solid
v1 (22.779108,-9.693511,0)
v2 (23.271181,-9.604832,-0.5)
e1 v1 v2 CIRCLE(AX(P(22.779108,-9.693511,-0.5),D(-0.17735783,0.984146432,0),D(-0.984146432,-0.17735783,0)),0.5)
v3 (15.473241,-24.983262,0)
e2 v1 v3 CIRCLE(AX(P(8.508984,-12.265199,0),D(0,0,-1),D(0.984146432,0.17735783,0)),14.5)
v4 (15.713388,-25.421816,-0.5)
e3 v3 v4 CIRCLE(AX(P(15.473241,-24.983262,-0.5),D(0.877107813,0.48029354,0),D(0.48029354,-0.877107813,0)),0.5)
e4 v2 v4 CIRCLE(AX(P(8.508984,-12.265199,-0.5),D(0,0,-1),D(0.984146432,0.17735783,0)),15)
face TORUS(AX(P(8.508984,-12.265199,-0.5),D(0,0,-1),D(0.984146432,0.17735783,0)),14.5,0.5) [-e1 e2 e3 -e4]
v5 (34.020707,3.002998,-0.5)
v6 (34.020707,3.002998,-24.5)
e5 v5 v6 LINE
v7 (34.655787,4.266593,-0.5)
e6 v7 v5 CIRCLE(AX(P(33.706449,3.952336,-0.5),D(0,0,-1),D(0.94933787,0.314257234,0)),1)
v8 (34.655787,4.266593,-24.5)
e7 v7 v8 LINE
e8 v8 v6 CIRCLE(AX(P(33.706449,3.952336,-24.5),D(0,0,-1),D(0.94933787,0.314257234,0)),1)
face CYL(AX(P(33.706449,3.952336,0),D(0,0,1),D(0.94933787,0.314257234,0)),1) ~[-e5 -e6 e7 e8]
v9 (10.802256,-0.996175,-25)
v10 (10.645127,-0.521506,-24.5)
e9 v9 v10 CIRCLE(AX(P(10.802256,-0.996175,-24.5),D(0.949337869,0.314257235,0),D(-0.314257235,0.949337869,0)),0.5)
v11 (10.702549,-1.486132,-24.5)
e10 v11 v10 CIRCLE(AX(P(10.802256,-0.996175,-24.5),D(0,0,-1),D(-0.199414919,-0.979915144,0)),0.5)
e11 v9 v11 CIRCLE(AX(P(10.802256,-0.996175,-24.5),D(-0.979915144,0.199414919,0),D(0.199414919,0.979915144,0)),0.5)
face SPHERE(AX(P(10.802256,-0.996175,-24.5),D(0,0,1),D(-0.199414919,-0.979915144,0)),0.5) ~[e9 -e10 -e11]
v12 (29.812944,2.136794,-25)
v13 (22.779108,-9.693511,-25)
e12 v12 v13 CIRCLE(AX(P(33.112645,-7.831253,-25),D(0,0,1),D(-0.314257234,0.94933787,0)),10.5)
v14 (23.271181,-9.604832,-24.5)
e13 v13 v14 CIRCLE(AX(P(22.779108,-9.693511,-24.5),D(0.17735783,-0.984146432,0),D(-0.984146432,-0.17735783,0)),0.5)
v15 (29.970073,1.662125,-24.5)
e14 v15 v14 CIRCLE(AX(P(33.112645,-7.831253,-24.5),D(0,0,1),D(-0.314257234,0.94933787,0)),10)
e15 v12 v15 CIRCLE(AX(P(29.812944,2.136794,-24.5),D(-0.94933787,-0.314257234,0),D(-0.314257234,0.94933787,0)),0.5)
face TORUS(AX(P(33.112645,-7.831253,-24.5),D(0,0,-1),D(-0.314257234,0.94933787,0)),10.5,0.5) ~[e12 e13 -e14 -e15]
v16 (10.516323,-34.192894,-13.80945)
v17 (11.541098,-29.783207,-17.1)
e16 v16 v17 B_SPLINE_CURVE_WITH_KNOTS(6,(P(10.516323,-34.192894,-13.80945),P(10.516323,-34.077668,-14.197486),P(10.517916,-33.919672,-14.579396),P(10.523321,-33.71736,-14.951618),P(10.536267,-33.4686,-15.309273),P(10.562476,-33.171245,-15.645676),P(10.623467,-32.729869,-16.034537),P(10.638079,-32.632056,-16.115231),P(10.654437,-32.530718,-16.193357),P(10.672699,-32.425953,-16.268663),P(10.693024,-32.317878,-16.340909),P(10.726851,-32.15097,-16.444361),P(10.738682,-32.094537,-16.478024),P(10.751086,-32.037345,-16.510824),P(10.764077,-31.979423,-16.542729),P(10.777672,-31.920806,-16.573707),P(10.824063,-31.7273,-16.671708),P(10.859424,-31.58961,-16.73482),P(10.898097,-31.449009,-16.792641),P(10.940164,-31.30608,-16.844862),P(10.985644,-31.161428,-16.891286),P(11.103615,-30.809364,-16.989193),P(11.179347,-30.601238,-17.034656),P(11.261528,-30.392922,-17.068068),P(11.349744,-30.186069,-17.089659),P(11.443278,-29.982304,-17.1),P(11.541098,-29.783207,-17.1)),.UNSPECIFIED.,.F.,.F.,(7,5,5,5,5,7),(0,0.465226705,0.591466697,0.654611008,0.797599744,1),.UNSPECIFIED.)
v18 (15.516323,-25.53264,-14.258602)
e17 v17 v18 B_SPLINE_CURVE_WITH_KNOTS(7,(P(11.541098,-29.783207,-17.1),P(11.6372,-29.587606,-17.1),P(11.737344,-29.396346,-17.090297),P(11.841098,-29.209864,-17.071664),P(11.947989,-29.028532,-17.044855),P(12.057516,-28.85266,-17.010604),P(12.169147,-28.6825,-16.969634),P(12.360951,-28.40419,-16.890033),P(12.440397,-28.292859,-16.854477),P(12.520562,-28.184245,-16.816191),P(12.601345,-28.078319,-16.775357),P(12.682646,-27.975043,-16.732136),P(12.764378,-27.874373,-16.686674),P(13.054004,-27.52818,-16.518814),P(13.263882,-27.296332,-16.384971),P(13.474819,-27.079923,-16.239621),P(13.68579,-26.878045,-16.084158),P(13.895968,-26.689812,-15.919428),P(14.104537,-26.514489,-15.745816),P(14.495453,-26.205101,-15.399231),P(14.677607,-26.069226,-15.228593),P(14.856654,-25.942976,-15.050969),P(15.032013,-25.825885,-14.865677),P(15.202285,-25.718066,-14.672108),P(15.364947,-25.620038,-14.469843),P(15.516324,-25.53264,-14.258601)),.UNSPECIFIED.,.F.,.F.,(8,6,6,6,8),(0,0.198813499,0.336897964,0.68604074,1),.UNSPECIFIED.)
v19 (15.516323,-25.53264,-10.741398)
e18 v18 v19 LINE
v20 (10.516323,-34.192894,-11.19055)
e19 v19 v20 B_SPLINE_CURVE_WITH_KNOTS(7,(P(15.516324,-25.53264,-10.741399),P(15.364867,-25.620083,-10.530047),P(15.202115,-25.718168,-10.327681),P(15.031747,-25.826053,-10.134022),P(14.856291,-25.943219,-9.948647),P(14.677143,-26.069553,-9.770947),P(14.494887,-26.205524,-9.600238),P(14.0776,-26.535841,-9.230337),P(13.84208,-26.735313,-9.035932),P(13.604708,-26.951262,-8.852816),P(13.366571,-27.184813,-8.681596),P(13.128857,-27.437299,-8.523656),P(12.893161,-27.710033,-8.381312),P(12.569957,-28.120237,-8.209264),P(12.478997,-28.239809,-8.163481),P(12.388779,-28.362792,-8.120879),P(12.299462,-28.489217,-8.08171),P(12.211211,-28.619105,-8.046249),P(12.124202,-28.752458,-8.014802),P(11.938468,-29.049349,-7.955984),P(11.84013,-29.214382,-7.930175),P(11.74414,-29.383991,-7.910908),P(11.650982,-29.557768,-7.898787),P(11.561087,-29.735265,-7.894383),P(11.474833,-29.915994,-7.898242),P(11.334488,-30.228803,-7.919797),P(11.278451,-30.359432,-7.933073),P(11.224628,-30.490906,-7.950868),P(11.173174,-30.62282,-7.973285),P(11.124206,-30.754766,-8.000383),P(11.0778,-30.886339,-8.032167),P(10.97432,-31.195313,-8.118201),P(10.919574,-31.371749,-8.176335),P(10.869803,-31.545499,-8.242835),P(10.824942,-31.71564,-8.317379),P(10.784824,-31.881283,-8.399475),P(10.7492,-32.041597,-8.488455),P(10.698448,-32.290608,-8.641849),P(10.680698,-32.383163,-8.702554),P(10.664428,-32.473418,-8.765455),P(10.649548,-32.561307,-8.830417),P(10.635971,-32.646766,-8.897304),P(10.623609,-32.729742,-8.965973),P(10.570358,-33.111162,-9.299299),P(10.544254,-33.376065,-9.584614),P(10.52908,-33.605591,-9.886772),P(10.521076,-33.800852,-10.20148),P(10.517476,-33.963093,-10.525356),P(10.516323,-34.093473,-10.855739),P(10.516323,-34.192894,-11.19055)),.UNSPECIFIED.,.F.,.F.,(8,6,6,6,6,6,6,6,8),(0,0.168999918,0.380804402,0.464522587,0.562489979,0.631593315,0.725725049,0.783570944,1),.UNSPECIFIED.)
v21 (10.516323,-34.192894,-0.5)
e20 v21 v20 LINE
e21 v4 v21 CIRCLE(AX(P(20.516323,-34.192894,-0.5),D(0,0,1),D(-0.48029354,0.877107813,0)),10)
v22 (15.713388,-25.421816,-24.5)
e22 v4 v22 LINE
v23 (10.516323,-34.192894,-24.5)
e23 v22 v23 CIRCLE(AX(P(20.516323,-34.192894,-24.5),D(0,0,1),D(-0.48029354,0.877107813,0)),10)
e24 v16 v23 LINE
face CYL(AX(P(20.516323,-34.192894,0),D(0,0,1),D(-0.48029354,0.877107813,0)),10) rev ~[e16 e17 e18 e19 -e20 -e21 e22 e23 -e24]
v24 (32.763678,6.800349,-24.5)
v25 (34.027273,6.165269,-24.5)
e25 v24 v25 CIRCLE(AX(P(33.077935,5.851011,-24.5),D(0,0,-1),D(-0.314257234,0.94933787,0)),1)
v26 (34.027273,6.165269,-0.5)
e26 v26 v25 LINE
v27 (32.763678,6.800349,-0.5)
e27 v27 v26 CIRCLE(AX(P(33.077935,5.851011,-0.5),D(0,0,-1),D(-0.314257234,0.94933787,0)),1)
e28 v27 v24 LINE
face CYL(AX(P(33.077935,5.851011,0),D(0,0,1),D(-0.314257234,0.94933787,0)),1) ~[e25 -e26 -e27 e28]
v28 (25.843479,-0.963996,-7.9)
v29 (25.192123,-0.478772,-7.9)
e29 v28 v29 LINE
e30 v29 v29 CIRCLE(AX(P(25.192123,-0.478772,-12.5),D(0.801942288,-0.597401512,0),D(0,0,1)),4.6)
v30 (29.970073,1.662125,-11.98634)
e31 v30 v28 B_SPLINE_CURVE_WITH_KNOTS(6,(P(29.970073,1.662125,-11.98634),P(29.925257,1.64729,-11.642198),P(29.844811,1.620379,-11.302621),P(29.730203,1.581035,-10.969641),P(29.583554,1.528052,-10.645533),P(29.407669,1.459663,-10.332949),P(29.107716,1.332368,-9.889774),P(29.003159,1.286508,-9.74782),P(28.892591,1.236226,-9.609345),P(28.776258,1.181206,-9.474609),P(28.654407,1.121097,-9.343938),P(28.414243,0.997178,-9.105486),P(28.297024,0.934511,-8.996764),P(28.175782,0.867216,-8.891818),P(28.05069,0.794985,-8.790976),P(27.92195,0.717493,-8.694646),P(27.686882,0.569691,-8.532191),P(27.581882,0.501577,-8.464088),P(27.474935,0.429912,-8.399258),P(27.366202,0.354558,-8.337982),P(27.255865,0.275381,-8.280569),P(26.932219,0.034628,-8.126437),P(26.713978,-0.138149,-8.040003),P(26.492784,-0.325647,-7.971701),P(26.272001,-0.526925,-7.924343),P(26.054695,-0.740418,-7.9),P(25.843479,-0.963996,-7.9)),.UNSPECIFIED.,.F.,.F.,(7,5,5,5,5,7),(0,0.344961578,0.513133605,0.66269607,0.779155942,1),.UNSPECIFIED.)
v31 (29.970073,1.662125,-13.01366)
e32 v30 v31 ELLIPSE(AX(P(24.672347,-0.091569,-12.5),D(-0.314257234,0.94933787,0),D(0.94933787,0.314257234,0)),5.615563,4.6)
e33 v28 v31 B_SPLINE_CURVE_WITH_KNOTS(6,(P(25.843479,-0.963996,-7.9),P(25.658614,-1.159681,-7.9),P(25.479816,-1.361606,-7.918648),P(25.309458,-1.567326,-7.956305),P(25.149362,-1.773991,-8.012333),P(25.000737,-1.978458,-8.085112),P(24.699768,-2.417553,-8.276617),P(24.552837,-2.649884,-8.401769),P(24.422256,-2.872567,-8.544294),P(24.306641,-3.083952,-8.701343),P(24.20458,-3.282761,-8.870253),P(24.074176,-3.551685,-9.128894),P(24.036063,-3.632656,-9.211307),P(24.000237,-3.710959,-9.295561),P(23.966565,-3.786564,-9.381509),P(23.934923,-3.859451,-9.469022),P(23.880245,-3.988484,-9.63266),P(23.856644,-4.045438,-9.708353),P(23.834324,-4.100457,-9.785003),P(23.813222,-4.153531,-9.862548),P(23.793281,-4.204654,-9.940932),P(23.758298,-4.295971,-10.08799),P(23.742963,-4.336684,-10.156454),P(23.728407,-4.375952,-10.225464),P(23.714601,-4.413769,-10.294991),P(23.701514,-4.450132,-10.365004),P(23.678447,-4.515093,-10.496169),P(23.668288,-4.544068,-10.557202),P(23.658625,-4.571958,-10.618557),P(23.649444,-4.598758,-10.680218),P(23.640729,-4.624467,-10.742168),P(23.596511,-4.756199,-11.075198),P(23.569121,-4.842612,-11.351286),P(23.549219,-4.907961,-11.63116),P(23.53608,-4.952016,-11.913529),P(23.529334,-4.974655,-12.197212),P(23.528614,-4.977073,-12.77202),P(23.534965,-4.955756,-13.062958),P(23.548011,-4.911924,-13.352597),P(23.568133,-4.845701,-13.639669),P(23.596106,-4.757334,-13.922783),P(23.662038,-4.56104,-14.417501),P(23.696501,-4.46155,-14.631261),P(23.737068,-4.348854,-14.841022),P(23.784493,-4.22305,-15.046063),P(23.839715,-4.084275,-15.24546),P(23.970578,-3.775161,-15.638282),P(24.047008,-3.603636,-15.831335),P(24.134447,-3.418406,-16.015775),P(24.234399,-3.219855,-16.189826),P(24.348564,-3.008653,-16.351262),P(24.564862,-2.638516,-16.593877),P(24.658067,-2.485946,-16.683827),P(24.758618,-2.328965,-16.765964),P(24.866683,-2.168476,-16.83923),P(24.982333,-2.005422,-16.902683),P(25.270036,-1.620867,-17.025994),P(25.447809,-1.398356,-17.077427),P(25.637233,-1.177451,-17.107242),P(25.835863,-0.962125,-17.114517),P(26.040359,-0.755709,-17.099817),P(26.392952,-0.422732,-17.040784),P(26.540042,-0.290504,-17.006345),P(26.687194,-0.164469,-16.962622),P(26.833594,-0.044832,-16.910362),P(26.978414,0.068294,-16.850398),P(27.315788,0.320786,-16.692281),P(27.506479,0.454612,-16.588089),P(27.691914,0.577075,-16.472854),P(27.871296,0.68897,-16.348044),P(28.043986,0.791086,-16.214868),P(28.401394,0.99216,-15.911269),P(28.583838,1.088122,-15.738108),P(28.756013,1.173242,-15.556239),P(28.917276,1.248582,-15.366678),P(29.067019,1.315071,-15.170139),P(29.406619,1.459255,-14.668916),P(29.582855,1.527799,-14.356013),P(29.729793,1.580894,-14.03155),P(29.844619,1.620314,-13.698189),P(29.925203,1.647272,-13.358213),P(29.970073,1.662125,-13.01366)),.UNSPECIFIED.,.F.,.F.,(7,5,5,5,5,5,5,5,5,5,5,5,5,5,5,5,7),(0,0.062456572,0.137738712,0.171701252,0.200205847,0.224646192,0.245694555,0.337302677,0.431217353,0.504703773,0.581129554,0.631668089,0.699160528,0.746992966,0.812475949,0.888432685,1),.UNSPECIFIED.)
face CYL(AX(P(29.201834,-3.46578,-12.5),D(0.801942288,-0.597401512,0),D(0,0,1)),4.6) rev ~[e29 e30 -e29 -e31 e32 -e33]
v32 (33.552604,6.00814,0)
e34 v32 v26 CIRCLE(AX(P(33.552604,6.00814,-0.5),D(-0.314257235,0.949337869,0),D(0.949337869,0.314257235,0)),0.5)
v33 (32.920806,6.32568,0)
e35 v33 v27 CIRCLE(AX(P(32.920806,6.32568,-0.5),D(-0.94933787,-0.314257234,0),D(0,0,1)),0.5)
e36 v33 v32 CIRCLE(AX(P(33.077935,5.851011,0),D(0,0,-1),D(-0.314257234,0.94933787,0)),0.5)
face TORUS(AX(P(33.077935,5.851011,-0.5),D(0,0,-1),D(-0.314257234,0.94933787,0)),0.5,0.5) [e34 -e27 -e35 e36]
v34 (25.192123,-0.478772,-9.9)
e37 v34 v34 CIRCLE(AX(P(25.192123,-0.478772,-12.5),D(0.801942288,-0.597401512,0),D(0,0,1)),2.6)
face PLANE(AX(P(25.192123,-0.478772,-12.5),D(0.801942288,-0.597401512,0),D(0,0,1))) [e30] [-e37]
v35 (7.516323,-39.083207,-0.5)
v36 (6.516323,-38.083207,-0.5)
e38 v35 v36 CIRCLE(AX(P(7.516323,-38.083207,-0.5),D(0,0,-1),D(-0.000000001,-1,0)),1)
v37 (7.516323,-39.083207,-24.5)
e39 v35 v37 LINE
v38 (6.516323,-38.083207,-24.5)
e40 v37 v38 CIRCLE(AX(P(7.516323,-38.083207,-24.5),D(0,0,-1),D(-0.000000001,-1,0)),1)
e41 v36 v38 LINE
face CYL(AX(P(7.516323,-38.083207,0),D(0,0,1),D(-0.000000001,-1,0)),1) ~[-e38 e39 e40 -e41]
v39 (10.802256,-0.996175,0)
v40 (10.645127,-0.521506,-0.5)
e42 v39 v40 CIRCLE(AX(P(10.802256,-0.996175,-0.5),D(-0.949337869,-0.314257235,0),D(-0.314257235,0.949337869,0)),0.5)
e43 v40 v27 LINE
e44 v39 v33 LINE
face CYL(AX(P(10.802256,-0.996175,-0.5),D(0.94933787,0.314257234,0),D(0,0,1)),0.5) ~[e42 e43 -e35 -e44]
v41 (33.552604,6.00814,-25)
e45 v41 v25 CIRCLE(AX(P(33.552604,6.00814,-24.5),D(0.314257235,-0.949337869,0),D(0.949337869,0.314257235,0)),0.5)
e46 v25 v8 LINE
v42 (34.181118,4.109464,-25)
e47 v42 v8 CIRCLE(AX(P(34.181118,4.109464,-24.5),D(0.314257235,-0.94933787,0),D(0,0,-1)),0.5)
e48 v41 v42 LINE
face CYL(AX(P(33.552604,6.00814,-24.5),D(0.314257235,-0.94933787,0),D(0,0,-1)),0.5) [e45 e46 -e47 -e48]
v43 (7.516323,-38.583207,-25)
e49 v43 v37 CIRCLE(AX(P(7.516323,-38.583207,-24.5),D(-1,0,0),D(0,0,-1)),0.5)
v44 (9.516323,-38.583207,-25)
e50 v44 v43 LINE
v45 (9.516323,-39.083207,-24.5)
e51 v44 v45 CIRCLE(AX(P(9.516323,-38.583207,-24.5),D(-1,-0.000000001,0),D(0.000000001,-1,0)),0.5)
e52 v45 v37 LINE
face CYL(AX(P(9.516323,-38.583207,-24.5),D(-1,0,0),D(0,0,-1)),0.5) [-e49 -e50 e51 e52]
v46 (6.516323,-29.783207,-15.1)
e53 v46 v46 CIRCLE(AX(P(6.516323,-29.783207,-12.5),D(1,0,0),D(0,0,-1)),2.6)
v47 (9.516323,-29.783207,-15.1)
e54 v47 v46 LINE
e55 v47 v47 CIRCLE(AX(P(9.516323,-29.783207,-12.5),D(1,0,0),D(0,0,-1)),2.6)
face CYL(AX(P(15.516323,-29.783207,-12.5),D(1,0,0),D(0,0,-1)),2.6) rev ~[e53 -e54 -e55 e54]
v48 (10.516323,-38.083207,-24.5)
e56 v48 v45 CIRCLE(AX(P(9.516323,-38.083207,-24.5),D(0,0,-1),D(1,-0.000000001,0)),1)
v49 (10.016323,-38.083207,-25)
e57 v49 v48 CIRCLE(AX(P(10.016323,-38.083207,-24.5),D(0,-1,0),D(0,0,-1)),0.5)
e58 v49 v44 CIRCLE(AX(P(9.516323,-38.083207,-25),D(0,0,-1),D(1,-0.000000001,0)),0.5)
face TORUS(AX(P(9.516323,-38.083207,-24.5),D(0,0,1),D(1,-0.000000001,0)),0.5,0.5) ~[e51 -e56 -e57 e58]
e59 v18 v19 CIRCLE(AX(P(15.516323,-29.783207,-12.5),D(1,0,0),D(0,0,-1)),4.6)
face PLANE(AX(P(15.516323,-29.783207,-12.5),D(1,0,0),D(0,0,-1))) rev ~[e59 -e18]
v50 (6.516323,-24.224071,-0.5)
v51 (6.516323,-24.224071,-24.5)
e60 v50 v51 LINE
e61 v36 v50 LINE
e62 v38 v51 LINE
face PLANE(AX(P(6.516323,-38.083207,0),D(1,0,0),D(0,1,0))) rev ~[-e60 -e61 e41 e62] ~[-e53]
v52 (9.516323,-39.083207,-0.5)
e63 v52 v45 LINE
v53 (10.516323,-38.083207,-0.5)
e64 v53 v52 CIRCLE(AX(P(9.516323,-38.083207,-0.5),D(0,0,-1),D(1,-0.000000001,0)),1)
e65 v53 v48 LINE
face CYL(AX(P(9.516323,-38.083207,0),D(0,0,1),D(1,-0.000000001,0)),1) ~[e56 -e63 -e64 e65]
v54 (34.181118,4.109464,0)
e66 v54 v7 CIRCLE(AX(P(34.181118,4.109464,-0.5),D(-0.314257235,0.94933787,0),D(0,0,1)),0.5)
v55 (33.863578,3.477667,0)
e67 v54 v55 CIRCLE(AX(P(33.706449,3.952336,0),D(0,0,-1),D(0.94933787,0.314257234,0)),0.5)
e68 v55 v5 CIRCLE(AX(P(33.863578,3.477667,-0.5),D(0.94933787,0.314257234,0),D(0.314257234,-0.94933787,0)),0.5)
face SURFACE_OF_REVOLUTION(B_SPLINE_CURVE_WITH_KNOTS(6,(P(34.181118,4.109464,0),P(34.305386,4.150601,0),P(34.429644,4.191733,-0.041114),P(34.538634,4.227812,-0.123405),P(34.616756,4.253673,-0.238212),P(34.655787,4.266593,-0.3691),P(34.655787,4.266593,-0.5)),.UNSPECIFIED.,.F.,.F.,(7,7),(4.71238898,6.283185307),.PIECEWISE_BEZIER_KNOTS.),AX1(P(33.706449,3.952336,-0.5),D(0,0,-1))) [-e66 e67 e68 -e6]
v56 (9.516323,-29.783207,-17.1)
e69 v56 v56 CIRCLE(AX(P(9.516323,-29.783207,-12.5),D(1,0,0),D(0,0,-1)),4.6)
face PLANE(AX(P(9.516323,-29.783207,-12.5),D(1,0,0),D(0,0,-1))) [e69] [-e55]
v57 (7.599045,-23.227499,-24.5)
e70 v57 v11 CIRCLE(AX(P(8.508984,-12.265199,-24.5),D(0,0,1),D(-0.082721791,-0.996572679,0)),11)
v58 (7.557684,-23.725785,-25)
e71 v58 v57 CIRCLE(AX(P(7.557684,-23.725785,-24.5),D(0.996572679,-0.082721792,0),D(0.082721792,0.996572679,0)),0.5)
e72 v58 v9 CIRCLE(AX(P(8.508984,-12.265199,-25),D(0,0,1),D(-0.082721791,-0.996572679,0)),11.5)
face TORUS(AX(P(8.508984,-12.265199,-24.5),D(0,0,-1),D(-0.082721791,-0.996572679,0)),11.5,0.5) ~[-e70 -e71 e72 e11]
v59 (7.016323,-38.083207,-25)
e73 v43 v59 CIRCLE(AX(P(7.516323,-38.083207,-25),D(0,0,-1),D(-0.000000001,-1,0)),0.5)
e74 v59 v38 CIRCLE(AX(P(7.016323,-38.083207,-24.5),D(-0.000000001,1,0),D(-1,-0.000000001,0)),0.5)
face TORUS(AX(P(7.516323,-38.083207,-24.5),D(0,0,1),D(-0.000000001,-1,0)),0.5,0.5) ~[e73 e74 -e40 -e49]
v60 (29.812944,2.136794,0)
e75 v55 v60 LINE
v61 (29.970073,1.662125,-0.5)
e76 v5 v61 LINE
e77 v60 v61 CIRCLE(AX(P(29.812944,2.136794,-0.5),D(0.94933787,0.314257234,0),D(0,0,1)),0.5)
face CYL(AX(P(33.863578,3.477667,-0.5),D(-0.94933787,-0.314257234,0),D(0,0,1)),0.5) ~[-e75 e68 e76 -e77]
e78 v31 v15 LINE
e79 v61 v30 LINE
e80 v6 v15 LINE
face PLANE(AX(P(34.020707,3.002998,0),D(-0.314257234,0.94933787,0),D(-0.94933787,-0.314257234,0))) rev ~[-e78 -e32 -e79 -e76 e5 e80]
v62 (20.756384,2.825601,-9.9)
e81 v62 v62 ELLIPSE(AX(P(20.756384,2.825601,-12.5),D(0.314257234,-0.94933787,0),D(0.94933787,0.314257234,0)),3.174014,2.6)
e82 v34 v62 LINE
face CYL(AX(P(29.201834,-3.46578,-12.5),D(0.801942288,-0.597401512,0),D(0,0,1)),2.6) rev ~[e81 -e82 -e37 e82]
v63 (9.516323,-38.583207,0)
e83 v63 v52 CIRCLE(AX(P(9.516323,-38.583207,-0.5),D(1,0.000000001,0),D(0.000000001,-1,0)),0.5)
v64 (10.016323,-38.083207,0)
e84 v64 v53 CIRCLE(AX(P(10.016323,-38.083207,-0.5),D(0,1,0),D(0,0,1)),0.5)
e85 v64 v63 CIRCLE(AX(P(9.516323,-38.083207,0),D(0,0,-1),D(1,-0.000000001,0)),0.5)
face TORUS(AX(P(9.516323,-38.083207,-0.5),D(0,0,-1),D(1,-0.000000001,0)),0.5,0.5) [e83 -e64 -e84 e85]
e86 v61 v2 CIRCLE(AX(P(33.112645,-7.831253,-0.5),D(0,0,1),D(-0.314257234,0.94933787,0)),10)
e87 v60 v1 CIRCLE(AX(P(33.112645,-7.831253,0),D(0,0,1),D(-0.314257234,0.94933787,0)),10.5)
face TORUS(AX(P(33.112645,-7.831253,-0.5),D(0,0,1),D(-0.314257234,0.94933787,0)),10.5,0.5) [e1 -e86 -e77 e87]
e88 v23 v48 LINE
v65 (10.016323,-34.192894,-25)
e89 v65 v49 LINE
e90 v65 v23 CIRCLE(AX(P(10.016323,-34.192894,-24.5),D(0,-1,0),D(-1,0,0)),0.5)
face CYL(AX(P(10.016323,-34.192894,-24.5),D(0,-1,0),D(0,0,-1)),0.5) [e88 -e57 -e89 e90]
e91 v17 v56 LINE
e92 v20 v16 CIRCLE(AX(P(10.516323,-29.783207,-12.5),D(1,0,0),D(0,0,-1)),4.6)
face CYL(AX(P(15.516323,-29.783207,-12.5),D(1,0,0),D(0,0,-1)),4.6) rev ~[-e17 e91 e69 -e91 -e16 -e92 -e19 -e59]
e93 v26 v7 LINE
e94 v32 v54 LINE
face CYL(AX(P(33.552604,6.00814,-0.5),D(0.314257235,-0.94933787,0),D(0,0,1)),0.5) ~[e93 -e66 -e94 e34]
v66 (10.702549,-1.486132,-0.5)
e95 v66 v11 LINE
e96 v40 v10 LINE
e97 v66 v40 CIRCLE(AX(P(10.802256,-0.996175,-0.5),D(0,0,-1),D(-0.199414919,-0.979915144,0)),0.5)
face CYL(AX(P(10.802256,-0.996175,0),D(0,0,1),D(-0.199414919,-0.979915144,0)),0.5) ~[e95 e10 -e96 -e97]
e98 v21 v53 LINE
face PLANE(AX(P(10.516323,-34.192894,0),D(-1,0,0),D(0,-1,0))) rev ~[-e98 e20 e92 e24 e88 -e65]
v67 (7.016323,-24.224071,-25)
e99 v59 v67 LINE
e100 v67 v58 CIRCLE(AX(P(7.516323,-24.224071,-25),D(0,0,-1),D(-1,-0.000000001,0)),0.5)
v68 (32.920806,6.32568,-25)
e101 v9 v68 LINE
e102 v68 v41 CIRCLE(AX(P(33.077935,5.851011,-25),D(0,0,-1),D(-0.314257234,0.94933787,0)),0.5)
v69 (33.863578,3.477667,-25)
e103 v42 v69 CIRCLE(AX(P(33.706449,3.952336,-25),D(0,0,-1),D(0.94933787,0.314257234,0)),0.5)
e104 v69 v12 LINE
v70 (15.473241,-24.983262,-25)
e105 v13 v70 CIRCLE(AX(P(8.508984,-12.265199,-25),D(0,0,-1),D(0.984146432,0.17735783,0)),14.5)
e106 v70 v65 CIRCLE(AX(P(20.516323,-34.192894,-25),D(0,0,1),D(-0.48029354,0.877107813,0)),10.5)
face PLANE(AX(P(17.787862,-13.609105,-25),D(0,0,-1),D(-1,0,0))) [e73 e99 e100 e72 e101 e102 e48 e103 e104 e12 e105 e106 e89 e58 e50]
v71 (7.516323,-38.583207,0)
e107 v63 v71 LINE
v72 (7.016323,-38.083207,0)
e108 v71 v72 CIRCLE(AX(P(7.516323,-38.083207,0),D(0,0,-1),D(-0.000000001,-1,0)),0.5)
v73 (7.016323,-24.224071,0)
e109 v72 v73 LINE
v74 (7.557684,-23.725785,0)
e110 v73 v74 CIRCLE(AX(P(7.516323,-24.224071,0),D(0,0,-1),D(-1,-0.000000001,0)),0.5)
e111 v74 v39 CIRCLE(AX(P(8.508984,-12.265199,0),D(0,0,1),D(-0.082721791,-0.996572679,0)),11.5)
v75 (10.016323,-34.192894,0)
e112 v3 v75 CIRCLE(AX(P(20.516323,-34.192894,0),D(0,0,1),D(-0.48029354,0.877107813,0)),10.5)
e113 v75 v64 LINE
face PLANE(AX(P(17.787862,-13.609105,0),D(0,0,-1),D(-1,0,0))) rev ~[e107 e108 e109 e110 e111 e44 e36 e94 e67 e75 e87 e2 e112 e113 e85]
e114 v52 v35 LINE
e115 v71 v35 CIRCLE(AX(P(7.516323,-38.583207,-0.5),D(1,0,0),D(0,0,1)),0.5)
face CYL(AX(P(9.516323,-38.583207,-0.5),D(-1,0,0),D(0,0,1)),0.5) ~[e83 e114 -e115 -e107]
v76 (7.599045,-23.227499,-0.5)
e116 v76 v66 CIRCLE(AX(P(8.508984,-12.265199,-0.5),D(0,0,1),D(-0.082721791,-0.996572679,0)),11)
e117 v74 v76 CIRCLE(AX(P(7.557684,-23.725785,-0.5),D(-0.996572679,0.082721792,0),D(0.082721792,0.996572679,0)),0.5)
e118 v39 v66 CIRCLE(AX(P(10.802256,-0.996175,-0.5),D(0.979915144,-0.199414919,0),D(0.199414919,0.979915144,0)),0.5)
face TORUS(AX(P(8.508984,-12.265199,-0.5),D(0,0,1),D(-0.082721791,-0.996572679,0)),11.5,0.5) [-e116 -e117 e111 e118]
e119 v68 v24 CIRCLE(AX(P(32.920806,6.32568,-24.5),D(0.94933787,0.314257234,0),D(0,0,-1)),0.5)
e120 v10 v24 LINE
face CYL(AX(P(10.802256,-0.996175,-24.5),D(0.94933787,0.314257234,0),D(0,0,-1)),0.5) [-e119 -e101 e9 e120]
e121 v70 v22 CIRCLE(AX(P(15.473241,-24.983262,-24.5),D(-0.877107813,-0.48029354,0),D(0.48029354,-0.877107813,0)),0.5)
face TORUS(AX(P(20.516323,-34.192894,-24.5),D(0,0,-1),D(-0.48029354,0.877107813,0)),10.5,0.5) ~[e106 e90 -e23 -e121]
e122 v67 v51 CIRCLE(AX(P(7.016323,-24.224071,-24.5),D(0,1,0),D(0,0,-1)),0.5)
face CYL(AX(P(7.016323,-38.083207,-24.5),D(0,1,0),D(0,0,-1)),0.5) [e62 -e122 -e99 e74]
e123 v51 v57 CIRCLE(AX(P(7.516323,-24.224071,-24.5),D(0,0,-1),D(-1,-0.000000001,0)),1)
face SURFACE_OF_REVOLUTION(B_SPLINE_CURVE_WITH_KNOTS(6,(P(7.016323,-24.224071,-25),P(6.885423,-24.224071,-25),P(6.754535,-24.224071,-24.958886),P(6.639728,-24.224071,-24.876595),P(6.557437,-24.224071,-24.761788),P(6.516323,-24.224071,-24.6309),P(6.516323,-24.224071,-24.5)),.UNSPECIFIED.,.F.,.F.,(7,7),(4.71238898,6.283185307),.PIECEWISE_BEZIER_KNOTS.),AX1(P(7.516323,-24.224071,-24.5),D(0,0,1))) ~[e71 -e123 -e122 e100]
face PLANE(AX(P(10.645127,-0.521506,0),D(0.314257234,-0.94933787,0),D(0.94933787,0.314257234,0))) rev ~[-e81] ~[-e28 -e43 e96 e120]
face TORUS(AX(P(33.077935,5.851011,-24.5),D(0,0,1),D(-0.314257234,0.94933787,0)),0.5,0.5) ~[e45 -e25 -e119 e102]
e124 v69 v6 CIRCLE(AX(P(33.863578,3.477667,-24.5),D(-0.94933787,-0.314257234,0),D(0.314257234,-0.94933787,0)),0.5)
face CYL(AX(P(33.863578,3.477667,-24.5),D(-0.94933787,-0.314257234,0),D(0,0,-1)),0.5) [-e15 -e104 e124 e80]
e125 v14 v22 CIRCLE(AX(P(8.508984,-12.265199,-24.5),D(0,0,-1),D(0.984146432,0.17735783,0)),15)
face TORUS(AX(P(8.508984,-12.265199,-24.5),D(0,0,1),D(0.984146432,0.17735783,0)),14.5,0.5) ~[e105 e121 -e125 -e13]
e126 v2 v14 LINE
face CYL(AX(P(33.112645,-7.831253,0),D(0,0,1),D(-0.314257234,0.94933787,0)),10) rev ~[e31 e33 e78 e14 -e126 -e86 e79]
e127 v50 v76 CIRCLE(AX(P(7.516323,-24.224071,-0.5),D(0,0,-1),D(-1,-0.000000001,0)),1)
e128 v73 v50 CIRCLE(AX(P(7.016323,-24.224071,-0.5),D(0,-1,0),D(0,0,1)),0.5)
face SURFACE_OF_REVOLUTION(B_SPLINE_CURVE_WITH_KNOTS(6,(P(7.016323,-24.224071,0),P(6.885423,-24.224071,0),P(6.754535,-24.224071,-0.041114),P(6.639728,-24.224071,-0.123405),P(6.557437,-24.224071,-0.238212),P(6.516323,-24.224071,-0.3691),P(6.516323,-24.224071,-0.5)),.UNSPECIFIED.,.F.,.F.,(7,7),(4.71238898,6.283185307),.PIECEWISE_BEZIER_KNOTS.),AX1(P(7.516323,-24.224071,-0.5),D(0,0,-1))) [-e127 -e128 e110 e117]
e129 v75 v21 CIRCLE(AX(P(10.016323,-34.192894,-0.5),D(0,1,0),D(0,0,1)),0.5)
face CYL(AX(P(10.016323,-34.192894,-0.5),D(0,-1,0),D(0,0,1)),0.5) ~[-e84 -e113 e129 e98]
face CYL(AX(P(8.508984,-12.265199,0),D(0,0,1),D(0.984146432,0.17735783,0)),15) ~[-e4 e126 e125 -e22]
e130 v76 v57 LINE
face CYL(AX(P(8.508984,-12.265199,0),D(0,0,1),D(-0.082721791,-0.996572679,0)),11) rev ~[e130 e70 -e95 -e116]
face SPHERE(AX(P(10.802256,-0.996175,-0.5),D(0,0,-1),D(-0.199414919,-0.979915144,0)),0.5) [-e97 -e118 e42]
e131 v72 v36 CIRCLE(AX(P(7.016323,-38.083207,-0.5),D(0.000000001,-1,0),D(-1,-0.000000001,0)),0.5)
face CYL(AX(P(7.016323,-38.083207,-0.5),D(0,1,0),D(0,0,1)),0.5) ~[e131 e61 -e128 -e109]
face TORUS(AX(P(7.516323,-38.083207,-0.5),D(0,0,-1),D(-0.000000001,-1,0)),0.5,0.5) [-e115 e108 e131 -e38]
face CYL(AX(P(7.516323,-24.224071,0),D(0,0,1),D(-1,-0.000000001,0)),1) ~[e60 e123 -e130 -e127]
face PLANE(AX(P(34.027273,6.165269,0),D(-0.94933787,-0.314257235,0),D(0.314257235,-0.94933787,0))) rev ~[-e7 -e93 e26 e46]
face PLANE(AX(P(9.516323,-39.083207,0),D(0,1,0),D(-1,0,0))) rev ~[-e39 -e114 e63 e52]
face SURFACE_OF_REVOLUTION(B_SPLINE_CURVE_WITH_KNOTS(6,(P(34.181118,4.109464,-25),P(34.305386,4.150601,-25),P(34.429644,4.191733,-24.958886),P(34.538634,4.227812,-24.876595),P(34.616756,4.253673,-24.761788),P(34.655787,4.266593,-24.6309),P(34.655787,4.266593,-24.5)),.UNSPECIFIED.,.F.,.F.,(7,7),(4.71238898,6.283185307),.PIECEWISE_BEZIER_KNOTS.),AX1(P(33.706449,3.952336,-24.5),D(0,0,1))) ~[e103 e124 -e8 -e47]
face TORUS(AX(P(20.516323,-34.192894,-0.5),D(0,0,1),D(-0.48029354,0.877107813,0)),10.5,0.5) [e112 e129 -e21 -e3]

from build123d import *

# Parameters (mm, degrees)
Y_KSEKLIK_EKSTR_ZYON1_DEPTH = 25
IZIM4_R                     = 2.6
KES_EKSTR_ZYON1_DEPTH       = 9
IZIM5_R                     = 4.6
KES_EKSTR_ZYON2_DEPTH       = 6
IZIM6_R                     = 2.6
KES_EKSTR_ZYON3_DEPTH       = 36.5
IZIM7_R                     = 4.6
KES_EKSTR_ZYON4_DEPTH       = 5
RADYUS1_R                   = 0.5


with BuildPart() as part:
    # Çizim1 → Yükseklik-Ekstrüzyon1 (new body)
    with BuildSketch(Plane.XY):
        with BuildLine():
            Line((6.516322935, -38.083207178), (6.516322935, -24.224071188))
            ThreePointArc((6.516322935, -24.224071188), (6.839093945, -23.488298875), (7.599044726, -23.227498508))
            ThreePointArc((7.599044726, -23.227498508), (19.398597482, -13.819653137), (10.702548541, -1.486132448))
            ThreePointArc((10.702548541, -1.486132448), (10.303139514, -1.025885698), (10.645127383, -0.521505941))
            Line((10.645127383, -0.521505941), (32.763677784, 6.800349322))
            ThreePointArc((32.763677784, 6.800349322), (33.527004842, 6.744508119), (34.027272888, 6.165268687))
            Line((34.027272888, 6.165268687), (34.655787357, 4.266592948))
            ThreePointArc((34.655787357, 4.266592948), (34.599946154, 3.50326589), (34.020706721, 3.002997844))
            Line((34.020706721, 3.002997844), (29.970072893, 1.662125405))
            ThreePointArc((29.970072893, 1.662125405), (24.517159095, -2.720713399), (23.271180913, -9.604831589))
            ThreePointArc((23.271180913, -9.604831589), (22.043278837, -18.732259795), (15.713387532, -25.421816227))
            ThreePointArc((15.713387532, -25.421816227), (11.913144626, -29.095314243), (10.516322935, -34.192894354))
            Line((10.516322935, -34.192894354), (10.516322935, -38.083207178))
            ThreePointArc((10.516322935, -38.083207178), (10.223429716, -38.790313959), (9.516322935, -39.083207178))
            Line((9.516322935, -39.083207178), (7.516322935, -39.083207178))
            ThreePointArc((7.516322935, -39.083207178), (6.809216154, -38.790313959), (6.516322935, -38.083207178))
        make_face()
    extrude(amount=-Y_KSEKLIK_EKSTR_ZYON1_DEPTH)

    # Çizim4 → Kes-Ekstrüzyon1 (cut)
    with BuildSketch(Plane(origin=(15.516322935, 0, 0), x_dir=(0, 0, -1), z_dir=(1, 0, 0))):
        with Locations((12.5, -29.783207178)):
            Circle(IZIM4_R)
    extrude(amount=-KES_EKSTR_ZYON1_DEPTH, mode=Mode.SUBTRACT)

    # Çizim5 → Kes-Ekstrüzyon2 (cut)
    with BuildSketch(Plane(origin=(15.516322935, 0, 0), x_dir=(0, 0, -1), z_dir=(1, 0, 0))):
        with Locations((12.5, -29.783207178)):
            Circle(IZIM5_R)
    extrude(amount=-KES_EKSTR_ZYON2_DEPTH, mode=Mode.SUBTRACT)

    # Çizim6 → Kes-Ekstrüzyon3 (cut)
    with BuildSketch(Plane(origin=(20.440424649, -15.226956818, 0), x_dir=(0, 0, 1), z_dir=(0.801942288, -0.597401512, 0))):
        with Locations((-12.5, -14.66586446)):
            Circle(IZIM6_R)
    extrude(amount=-KES_EKSTR_ZYON3_DEPTH, mode=Mode.SUBTRACT)

    # Çizim7 → Kes-Ekstrüzyon4 (cut)
    with BuildSketch(Plane(origin=(20.440424649, -15.226956818, 0), x_dir=(0, 0, 1), z_dir=(0.801942288, -0.597401512, 0))):
        with Locations((-12.5, -14.66586446)):
            Circle(IZIM7_R)
    extrude(amount=-KES_EKSTR_ZYON4_DEPTH, mode=Mode.SUBTRACT)

    # Radyus1
    radyus1_edges = [part.edges().sort_by_distance(p)[0] for p in [
        (24.517159095, -2.720713399, -25),
        (10.516322935, -36.138050766, 0),
        (10.223429716, -38.790313959, 0),
        (8.516322935, -39.083207178, 0),
        (31.995389807, 2.332561624, -25),
        (6.809216154, -38.790313959, 0),
        (6.516322935, -31.153639183, 0),
        (6.839093945, -23.488298875, 0),
        (19.398597482, -13.819653137, 0),
        (10.303139514, -1.025885698, 0),
        (21.704402584, 3.13942169, 0),
        (33.527004842, 6.744508119, 0),
        (34.341530122, 5.215930817, 0),
        (34.599946154, 3.50326589, 0),
        (31.995389807, 2.332561624, 0),
        (34.599946154, 3.50326589, -25),
        (24.517159095, -2.720713399, 0),
        (22.043278837, -18.732259795, 0),
        (11.913144626, -29.095314243, 0),
        (34.341530122, 5.215930817, -25),
        (33.527004842, 6.744508119, -25),
        (21.704402584, 3.13942169, -25),
        (10.303139514, -1.025885698, -25),
        (19.398597482, -13.819653137, -25),
        (6.839093945, -23.488298875, -25),
        (6.516322935, -31.153639183, -25),
        (11.913144626, -29.095314243, -25),
        (6.809216154, -38.790313959, -25),
        (8.516322935, -39.083207178, -25),
        (10.223429716, -38.790313959, -25),
        (10.516322935, -36.138050766, -25),
        (22.043278837, -18.732259795, -25),
    ]]
    fillet(radyus1_edges, radius=RADYUS1_R)


solid = part.part
